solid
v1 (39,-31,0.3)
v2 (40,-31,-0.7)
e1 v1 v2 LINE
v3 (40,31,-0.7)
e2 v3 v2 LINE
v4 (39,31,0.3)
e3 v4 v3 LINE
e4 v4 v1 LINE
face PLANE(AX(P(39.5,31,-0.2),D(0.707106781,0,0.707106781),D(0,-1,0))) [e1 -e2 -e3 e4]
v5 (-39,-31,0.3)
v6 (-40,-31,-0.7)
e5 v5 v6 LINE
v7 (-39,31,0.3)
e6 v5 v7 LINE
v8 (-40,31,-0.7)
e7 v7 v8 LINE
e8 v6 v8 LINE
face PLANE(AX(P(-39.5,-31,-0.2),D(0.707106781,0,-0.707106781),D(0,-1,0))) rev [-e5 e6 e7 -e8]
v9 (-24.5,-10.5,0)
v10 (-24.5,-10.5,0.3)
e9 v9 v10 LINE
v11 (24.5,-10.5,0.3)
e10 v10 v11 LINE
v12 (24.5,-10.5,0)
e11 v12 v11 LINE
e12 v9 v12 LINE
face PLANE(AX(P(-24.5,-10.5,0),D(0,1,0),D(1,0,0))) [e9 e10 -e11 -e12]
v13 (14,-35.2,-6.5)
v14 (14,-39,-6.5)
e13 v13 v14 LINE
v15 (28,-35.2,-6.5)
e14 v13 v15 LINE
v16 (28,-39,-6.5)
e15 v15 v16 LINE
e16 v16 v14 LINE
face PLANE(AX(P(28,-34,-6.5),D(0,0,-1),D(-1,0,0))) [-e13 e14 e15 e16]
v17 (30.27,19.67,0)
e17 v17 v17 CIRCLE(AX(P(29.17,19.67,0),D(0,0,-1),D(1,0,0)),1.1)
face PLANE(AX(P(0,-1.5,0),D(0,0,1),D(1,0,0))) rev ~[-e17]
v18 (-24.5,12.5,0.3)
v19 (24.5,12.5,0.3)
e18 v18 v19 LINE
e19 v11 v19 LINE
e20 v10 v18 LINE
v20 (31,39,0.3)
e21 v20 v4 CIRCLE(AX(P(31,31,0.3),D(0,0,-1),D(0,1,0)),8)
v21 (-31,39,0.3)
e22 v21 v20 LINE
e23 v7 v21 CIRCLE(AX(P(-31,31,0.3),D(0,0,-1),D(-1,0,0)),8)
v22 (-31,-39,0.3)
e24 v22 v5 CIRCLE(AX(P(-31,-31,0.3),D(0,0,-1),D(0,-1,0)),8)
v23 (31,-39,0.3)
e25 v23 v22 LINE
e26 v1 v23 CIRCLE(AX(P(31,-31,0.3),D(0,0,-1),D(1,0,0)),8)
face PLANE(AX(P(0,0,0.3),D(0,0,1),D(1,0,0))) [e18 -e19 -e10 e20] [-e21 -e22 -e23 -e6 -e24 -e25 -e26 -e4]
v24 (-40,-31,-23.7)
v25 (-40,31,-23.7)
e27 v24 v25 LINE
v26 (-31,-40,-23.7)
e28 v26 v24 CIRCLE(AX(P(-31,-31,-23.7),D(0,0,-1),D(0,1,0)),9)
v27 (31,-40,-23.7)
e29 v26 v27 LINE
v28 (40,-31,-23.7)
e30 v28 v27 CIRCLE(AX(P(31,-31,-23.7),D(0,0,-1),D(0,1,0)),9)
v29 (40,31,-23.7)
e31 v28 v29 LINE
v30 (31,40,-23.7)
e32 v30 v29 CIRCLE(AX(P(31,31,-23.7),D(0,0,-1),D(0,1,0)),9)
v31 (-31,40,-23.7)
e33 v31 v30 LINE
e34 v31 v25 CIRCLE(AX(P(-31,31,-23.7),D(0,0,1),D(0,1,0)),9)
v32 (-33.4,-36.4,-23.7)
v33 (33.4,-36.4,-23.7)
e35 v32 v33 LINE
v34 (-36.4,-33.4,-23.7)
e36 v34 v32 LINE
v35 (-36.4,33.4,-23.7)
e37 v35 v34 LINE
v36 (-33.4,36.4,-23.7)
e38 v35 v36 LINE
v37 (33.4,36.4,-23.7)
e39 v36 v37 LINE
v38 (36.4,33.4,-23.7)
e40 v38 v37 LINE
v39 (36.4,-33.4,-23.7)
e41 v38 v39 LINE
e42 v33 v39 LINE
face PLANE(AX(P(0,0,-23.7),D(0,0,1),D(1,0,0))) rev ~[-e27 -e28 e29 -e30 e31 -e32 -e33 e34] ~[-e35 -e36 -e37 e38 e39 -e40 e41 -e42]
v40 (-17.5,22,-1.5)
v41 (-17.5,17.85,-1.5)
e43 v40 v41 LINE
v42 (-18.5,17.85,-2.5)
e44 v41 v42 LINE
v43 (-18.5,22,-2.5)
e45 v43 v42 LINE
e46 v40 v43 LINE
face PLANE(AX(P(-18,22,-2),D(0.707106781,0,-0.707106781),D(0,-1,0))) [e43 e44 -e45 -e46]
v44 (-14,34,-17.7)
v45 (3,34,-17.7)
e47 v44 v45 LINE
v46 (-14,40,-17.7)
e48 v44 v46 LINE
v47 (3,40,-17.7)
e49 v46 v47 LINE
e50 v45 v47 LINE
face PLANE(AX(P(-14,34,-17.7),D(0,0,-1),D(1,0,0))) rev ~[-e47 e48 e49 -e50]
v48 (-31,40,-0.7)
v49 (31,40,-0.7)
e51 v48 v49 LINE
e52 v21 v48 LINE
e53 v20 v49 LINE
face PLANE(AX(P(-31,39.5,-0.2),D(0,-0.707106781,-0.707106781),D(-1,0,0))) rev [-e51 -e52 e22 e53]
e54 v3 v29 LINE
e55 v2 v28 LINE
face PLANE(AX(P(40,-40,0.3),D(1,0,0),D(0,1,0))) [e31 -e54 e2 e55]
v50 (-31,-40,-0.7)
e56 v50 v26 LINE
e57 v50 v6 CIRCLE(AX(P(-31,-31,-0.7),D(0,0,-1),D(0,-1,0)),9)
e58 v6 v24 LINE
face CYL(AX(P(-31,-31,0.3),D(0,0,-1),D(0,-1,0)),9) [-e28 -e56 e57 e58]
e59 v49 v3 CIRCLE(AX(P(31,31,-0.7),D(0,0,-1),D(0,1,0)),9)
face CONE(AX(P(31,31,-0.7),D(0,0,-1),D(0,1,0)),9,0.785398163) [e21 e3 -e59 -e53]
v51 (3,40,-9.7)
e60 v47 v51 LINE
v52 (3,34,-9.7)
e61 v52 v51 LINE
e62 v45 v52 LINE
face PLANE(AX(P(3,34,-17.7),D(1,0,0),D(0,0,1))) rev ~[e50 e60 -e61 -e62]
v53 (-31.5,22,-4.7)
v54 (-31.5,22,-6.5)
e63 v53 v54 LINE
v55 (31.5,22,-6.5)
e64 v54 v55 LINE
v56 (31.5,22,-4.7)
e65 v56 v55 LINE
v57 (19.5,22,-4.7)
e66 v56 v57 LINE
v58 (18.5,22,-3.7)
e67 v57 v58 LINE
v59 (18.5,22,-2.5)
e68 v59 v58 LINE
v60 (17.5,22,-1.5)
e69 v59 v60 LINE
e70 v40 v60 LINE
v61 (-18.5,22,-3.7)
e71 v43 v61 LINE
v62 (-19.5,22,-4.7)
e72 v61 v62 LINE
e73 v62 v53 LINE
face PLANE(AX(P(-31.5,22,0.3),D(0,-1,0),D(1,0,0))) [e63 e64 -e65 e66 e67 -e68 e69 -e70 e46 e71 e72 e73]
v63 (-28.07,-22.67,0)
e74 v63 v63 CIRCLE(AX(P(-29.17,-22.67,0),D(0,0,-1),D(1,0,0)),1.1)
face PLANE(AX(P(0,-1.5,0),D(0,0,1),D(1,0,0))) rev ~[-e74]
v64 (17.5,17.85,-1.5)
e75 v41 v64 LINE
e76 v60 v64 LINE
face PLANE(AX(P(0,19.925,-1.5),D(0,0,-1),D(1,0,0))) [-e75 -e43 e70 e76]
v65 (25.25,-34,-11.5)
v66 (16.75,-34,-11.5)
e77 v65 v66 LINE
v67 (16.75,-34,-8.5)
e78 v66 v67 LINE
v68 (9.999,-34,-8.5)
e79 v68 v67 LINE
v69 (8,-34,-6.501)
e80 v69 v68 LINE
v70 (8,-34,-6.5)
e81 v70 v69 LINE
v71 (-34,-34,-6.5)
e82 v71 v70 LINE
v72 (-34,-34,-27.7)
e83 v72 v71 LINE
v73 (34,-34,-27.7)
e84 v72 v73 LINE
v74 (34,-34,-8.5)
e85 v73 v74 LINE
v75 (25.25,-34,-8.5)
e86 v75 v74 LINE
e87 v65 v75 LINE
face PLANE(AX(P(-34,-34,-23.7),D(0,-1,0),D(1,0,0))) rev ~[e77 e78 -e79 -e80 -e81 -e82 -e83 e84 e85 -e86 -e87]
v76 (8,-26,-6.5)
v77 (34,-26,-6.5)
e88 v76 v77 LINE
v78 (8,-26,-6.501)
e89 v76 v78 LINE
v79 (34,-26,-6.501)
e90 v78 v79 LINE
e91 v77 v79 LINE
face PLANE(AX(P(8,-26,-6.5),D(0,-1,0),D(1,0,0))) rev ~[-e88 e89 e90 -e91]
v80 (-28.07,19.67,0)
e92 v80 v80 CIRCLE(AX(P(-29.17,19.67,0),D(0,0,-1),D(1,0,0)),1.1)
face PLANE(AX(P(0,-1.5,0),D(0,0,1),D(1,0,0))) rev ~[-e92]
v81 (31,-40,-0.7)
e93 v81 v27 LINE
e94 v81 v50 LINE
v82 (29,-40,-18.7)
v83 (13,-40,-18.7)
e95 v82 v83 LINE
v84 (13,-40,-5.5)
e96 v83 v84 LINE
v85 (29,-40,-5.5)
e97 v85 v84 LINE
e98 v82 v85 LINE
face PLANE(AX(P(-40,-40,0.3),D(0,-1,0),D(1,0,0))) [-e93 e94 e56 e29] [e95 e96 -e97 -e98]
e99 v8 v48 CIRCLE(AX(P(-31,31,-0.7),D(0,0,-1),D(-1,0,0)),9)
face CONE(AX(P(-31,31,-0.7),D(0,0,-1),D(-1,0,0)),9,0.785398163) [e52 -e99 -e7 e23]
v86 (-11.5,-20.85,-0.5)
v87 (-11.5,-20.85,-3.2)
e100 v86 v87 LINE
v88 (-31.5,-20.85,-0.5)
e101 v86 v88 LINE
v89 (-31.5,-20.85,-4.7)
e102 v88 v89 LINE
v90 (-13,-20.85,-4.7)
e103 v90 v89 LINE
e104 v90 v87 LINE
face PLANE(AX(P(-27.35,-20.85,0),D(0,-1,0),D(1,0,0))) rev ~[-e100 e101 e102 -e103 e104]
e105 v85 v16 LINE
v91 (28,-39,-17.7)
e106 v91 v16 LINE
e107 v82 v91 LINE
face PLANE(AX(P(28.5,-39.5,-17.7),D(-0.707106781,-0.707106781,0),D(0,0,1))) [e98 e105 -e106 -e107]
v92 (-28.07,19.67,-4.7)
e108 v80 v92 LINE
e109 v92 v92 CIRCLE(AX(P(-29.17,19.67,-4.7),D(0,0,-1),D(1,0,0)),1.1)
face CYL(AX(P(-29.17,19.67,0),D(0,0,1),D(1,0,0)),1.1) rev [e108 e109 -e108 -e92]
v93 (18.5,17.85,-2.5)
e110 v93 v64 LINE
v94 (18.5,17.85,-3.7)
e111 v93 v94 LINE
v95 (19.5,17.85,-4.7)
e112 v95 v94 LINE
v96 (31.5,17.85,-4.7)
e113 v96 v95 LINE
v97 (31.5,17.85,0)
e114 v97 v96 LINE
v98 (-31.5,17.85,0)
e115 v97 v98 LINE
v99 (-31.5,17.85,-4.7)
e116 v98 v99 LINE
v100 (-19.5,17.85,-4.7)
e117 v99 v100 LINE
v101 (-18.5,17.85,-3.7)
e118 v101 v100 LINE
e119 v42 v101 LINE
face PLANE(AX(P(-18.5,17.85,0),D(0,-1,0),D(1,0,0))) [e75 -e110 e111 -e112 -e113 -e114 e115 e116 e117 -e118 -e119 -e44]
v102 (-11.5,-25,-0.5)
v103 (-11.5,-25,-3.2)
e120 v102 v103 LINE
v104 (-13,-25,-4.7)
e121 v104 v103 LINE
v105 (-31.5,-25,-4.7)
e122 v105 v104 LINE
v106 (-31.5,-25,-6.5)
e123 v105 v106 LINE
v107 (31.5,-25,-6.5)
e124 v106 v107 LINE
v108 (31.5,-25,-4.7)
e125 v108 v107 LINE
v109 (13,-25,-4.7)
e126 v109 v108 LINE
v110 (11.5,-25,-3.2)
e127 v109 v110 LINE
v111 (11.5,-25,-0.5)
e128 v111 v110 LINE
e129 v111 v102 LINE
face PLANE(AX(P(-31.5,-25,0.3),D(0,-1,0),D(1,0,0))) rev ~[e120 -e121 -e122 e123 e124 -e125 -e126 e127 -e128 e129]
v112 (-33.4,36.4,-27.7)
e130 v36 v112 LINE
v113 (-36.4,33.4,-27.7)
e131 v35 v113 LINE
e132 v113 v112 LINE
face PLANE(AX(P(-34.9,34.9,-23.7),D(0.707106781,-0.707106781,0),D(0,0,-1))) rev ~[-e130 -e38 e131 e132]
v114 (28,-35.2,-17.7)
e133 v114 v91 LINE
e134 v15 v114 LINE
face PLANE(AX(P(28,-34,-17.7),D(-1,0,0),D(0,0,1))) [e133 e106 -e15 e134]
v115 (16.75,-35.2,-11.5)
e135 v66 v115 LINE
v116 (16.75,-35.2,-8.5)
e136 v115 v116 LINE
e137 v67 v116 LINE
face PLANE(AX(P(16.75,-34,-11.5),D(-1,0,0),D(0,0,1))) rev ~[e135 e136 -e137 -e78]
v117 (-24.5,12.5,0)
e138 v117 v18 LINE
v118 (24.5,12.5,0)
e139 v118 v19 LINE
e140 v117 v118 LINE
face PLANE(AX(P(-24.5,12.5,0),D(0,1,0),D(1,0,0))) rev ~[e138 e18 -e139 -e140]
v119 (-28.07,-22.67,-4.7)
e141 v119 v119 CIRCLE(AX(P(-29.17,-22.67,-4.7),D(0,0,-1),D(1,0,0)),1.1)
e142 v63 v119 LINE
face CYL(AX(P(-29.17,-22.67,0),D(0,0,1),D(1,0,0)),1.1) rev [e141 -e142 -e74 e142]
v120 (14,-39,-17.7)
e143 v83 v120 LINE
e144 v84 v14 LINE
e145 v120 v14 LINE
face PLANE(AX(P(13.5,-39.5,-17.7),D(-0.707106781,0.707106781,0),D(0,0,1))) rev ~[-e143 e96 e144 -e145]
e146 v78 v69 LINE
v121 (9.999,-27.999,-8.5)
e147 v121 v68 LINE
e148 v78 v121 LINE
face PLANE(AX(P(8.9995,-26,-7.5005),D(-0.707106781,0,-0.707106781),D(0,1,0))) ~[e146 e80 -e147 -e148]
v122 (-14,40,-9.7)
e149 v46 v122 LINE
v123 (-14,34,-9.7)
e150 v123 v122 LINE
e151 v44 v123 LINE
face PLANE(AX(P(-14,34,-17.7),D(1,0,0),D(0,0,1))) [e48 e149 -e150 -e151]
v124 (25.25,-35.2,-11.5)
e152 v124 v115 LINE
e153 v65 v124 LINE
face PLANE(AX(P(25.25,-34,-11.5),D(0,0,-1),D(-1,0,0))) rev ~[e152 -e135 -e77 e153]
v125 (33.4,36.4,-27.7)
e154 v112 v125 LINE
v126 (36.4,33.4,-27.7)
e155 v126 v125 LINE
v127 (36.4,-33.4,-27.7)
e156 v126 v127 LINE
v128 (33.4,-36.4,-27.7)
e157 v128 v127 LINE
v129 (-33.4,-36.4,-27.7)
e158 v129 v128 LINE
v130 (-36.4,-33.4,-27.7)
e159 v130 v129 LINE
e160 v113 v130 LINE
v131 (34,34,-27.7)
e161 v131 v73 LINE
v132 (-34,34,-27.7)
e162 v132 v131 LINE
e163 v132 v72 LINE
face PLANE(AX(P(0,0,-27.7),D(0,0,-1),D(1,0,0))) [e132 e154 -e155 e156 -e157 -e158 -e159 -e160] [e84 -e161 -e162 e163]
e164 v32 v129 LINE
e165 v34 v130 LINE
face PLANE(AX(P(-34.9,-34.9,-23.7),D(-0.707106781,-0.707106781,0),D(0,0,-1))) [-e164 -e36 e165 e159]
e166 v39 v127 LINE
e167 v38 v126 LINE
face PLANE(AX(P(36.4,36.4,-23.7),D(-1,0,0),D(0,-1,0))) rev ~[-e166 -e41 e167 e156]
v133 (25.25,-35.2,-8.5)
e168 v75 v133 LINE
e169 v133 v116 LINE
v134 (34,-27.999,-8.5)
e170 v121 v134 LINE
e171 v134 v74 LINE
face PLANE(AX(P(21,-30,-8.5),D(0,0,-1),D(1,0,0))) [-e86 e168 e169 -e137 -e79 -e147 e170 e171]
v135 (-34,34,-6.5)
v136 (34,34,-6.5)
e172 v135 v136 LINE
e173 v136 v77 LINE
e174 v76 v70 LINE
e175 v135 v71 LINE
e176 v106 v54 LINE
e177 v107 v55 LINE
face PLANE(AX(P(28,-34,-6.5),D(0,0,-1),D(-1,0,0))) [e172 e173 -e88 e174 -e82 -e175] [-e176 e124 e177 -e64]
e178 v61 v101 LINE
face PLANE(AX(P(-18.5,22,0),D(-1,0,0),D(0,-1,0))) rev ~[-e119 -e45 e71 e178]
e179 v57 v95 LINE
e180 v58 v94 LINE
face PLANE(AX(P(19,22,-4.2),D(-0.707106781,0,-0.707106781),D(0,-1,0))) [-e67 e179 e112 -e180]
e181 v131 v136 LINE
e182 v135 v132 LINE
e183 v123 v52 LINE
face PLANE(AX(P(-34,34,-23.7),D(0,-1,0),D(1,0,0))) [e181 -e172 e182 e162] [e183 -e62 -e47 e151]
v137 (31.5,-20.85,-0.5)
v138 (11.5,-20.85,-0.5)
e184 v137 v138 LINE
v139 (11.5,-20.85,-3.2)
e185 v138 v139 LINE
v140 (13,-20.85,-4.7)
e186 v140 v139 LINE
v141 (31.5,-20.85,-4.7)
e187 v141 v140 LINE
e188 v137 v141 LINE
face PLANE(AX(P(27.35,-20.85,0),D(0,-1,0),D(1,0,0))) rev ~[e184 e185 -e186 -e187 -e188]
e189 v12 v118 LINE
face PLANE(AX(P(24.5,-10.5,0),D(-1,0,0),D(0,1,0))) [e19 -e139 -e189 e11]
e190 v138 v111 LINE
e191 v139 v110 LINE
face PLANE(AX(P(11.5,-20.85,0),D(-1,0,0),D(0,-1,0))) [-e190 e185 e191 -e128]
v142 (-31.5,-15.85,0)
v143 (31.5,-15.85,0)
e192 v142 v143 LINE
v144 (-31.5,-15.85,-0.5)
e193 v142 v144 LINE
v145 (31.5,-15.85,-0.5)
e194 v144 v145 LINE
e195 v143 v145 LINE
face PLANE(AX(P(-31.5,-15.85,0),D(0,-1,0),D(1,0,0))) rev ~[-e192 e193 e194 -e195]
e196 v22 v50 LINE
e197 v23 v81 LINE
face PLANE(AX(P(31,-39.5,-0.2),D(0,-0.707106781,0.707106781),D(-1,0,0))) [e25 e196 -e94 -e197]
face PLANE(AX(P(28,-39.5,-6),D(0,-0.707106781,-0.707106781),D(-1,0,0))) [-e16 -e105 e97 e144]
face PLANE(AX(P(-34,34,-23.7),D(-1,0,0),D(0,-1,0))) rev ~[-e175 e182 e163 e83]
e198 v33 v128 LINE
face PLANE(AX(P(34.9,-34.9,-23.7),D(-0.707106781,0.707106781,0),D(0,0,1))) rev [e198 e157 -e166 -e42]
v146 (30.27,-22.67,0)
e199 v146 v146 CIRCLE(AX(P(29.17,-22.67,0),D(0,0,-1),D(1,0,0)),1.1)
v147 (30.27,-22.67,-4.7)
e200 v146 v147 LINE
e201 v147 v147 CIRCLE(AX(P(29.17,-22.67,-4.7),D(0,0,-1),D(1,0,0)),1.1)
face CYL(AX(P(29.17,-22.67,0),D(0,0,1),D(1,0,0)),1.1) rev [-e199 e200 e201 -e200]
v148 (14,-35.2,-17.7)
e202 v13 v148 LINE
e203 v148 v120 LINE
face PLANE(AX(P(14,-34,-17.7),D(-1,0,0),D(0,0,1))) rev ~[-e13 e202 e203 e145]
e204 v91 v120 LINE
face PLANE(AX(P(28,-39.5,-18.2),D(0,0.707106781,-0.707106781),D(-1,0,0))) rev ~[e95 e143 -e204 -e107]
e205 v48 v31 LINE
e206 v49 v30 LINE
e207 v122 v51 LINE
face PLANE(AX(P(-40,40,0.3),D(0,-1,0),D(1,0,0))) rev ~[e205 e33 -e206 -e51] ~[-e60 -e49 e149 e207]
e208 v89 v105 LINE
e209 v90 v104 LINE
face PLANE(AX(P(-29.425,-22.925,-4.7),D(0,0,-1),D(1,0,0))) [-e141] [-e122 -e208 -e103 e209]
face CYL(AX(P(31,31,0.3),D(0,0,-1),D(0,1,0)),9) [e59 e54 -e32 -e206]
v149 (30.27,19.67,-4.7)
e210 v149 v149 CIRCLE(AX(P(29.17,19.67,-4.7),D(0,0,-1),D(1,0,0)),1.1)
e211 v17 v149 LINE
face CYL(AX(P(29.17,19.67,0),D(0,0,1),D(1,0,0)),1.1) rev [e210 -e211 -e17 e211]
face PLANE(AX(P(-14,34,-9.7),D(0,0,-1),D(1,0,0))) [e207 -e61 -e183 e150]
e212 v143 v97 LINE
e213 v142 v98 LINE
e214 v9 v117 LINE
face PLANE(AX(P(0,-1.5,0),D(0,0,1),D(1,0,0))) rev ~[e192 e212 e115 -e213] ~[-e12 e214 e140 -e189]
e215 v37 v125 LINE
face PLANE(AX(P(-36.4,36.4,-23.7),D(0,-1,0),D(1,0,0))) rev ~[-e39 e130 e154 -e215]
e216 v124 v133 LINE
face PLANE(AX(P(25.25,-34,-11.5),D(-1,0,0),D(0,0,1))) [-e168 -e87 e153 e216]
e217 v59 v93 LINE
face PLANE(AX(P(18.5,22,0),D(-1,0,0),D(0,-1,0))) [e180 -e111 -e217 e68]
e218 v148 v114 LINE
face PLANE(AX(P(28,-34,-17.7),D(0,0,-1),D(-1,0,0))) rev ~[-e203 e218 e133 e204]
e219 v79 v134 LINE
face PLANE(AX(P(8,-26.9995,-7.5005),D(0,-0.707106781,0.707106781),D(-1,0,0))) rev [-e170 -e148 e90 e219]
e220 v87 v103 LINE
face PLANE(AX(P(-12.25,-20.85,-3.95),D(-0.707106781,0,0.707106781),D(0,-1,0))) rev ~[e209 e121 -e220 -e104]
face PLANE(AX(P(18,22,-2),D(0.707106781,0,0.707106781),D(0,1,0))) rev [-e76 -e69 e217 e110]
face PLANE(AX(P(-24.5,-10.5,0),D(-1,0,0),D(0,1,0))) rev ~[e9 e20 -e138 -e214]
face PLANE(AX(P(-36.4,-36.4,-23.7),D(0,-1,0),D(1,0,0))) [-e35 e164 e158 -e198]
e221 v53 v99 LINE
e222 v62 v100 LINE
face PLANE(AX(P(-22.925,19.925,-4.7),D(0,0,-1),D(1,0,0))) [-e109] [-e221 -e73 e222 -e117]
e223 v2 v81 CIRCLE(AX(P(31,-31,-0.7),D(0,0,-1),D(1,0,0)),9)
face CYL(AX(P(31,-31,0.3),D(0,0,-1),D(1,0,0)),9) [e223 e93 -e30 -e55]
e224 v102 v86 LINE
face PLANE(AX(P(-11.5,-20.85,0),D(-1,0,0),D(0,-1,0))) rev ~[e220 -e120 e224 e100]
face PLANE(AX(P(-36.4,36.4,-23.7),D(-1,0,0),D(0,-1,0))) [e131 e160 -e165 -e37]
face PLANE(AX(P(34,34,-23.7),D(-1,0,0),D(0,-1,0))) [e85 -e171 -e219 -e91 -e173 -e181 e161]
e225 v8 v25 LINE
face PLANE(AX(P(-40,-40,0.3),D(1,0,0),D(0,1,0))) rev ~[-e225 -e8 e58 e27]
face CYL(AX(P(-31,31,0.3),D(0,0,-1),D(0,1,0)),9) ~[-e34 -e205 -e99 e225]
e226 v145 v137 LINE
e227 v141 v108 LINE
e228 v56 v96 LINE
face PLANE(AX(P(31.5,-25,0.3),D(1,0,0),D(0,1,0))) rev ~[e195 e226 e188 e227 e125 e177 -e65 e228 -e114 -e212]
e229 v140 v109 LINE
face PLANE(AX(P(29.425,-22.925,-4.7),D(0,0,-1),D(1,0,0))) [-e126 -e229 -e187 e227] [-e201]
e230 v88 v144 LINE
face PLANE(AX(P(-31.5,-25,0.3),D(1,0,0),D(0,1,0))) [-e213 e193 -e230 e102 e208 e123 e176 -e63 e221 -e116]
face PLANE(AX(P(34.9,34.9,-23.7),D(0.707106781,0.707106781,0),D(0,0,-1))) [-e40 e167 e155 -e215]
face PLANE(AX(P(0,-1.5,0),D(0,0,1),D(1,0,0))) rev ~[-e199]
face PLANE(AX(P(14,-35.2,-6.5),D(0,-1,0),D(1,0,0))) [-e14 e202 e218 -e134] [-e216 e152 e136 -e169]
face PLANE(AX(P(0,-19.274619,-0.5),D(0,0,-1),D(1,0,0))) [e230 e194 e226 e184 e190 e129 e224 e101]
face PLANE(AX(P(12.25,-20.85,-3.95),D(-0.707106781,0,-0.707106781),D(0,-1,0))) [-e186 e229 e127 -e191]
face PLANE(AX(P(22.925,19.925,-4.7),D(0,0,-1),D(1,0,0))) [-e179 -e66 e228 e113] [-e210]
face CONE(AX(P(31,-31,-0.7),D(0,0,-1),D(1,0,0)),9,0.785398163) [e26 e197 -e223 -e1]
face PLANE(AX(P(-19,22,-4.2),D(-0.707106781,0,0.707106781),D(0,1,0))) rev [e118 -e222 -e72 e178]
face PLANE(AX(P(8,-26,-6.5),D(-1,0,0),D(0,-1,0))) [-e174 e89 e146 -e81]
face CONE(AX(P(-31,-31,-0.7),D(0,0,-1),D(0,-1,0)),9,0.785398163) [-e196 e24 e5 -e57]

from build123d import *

# Parameters (mm, degrees)
SKETCH_W        = 63
SKETCH_H        = 47
SKETCH_W_2      = 49
SKETCH_H_2      = 23
PAD_DEPTH       = 0.3
SKETCH001_W     = 65
SKETCH001_H     = 49
SKETCH001_W_2   = 63
SKETCH001_H_2   = 47
PAD001_DEPTH    = 6.8
SKETCH002_W     = 4.15
SKETCH002_H     = 4.15
SKETCH002_R     = 1.1
PAD002_DEPTH    = 4.7
SKETCH003_W     = 8.85
SKETCH003_H     = 4.15
SKETCH003_W_2   = 15.85
PAD003_DEPTH    = 4.7
SKETCH004_W     = 37
SKETCH004_H     = 4.15
PAD004_DEPTH    = 1.5
CHAMFER_SIZE    = 1
PAD005_DEPTH    = 0.5
CHAMFER001_SIZE = 1.5
SKETCH006_W     = 80
SKETCH006_H     = 80
SKETCH006_W_2   = 65
SKETCH006_H_2   = 49
PAD006_DEPTH    = 24
SKETCH007_W     = 68
SKETCH007_H     = 68
SKETCH007_W_2   = 65
SKETCH007_H_2   = 49
POCKET_DEPTH    = 17.2
SKETCH008_W     = 14
SKETCH008_H     = 11.2
POCKET001_DEPTH = 6
SKETCH009_W     = 17
SKETCH009_H     = 8
POCKET002_DEPTH = 6
SKETCH010_W     = 26
SKETCH010_H     = 8
PAD007_DEPTH    = 2
CHAMFER002_SIZE = 1.999
SKETCH011_W     = 14
SKETCH011_H     = 1.2
PAD008_DEPTH    = 11.2
SKETCH012_W     = 8.5
SKETCH012_H     = 3
POCKET003_DEPTH = 1.2
SKETCH013_W     = 72.8
SKETCH013_H     = 72.8
SKETCH013_W_2   = 68
SKETCH013_H_2   = 68
PAD009_DEPTH    = 4
FILLET_R        = 9
CHAMFER003_SIZE = 3
CHAMFER004_SIZE = 1
CHAMFER005_SIZE = 1


with BuildPart() as part:
    # Sketch → Pad (new body)
    with BuildSketch(Plane.XY):
        with Locations((0, -1.5)):
            Rectangle(SKETCH_W, SKETCH_H)
        with Locations((0, 1)):
            Rectangle(SKETCH_W_2, SKETCH_H_2, mode=Mode.SUBTRACT)
    extrude(amount=PAD_DEPTH)

    # Sketch001 (on Face10 of Pad) → Pad001 (join)
    with BuildSketch(Plane.XY.offset(0.3)):
        with Locations((0, -1.5)):
            Rectangle(SKETCH001_W, SKETCH001_H)
        with Locations((0, -1.5)):
            Rectangle(SKETCH001_W_2, SKETCH001_H_2, mode=Mode.SUBTRACT)
    extrude(amount=-PAD001_DEPTH)

    # Sketch002 (on Face4 of Pad001) → Pad002 (join)
    with BuildSketch(Plane(origin=(0, 0, 0), x_dir=(1, 0, 0), z_dir=(0, 0, -1))):
        with Locations((-29.425, 22.925)):
            Rectangle(SKETCH002_W, SKETCH002_H)
        with Locations((-29.17, 22.67)):
            Circle(SKETCH002_R, mode=Mode.SUBTRACT)
        with Locations((-29.425, -19.925)):
            Rectangle(SKETCH002_W, SKETCH002_H)
        with Locations((-29.17, -19.67)):
            Circle(SKETCH002_R, mode=Mode.SUBTRACT)
        with Locations((29.425, -19.925)):
            Rectangle(SKETCH002_W, SKETCH002_H)
        with Locations((29.17, -19.67)):
            Circle(SKETCH002_R, mode=Mode.SUBTRACT)
        with Locations((29.425, 22.925)):
            Rectangle(SKETCH002_W, SKETCH002_H)
        with Locations((29.17, 22.67)):
            Circle(SKETCH002_R, mode=Mode.SUBTRACT)
    extrude(amount=PAD002_DEPTH)

    # Sketch003 (on Face4 of Pad002) → Pad003 (join)
    with BuildSketch(Plane(origin=(0, 0, 0), x_dir=(1, 0, 0), z_dir=(0, 0, -1))):
        with Locations((-22.925, -19.925)):
            Rectangle(SKETCH003_W, SKETCH003_H)
        with Locations((22.925, -19.925)):
            Rectangle(SKETCH003_W, SKETCH003_H)
        with Locations((-19.425, 22.925)):
            Rectangle(SKETCH003_W_2, SKETCH003_H)
        with Locations((19.425, 22.925)):
            Rectangle(SKETCH003_W_2, SKETCH003_H)
    extrude(amount=PAD003_DEPTH)

    # Sketch004 (on Face4 of Pad003) → Pad004 (join)
    with BuildSketch(Plane(origin=(0, 0, 0), x_dir=(1, 0, 0), z_dir=(0, 0, -1))):
        with Locations((0, -19.925)):
            Rectangle(SKETCH004_W, SKETCH004_H)
    extrude(amount=PAD004_DEPTH)

    # Chamfer
    chamfer_edges = [part.edges().sort_by_distance(p)[0] for p in [
        (-18.5, 19.925, -1.5),
        (18.5, 19.925, -1.5),
        (-18.5, 19.925, -4.7),
        (18.5, 19.925, -4.7),
    ]]
    chamfer(chamfer_edges, length=CHAMFER_SIZE)

    # Sketch005 (on Face6 of Chamfer) → Pad005 (join)
    with BuildSketch(Plane(origin=(0, 0, 0), x_dir=(1, 0, 0), z_dir=(0, 0, -1))):
        Polygon((11.5, 20.85), (11.5, 25), (-11.5, 25), (-11.5, 20.85), (-31.5, 20.85), (-31.5, 15.85), (31.5, 15.85), (31.5, 20.85), align=None)
    extrude(amount=PAD005_DEPTH)

    # Chamfer001
    chamfer001_edges = [part.edges().sort_by_distance(p)[0] for p in [
        (-11.5, -22.925, -4.7),
        (11.5, -22.925, -4.7),
    ]]
    chamfer(chamfer001_edges, length=CHAMFER001_SIZE)

    # Sketch006 (on Face52 of Chamfer001) → Pad006 (join)
    with BuildSketch(Plane.XY.offset(0.3)):
        Rectangle(SKETCH006_W, SKETCH006_H)
        with Locations((0, -1.5)):
            Rectangle(SKETCH006_W_2, SKETCH006_H_2, mode=Mode.SUBTRACT)
    extrude(amount=-PAD006_DEPTH)

    # Sketch007 (on Face49 of Pad006) → Pocket (cut)
    with BuildSketch(Plane(origin=(0, 0, -23.7), x_dir=(1, 0, 0), z_dir=(0, 0, -1))):
        Rectangle(SKETCH007_W, SKETCH007_H)
        with Locations((0, 1.5)):
            Rectangle(SKETCH007_W_2, SKETCH007_H_2, mode=Mode.SUBTRACT)
    extrude(amount=-POCKET_DEPTH, mode=Mode.SUBTRACT)

    # Sketch008 (on Face49 of Pocket) → Pocket001 (cut)
    with BuildSketch(Plane(origin=(0, -34, 0), x_dir=(-1, 0, 0), z_dir=(0, 1, 0))):
        with Locations((-21, -12.1)):
            Rectangle(SKETCH008_W, SKETCH008_H)
    extrude(amount=-POCKET001_DEPTH, mode=Mode.SUBTRACT)

    # Sketch009 (on Face47 of Pocket001) → Pocket002 (cut)
    with BuildSketch(Plane.XZ.offset(-34)):
        with Locations((-5.5, -13.7)):
            Rectangle(SKETCH009_W, SKETCH009_H)
    extrude(amount=-POCKET002_DEPTH, mode=Mode.SUBTRACT)

    # Sketch010 (on Face24 of Pocket002) → Pad007 (join)
    with BuildSketch(Plane(origin=(0, 0, -6.5), x_dir=(1, 0, 0), z_dir=(0, 0, -1))):
        with Locations((21, 30)):
            Rectangle(SKETCH010_W, SKETCH010_H)
    extrude(amount=PAD007_DEPTH)

    # Chamfer002
    chamfer002_edges = [part.edges().sort_by_distance(p)[0] for p in [
        (21, -26, -8.5),
        (8, -30, -8.5),
    ]]
    chamfer(chamfer002_edges, length=CHAMFER002_SIZE)

    # Sketch011 (on Face55 of Chamfer002) → Pad008 (join)
    with BuildSketch(Plane(origin=(0, 0, -6.5), x_dir=(1, 0, 0), z_dir=(0, 0, -1))):
        with Locations((21, 34.6)):
            Rectangle(SKETCH011_W, SKETCH011_H)
    extrude(amount=PAD008_DEPTH)

    # Sketch012 (on Face17 of Pad008) → Pocket003 (cut)
    with BuildSketch(Plane(origin=(0, -34, 0), x_dir=(-1, 0, 0), z_dir=(0, 1, 0))):
        with Locations((-21, -10)):
            Rectangle(SKETCH012_W, SKETCH012_H)
    extrude(amount=-POCKET003_DEPTH, mode=Mode.SUBTRACT)

    # Sketch013 (on Face15 of Pocket003) → Pad009 (join)
    with BuildSketch(Plane(origin=(0, 0, -23.7), x_dir=(1, 0, 0), z_dir=(0, 0, -1))):
        Rectangle(SKETCH013_W, SKETCH013_H)
        Rectangle(SKETCH013_W_2, SKETCH013_H_2, mode=Mode.SUBTRACT)
    extrude(amount=PAD009_DEPTH)

    # Fillet
    fillet_edges = [part.edges().sort_by_distance(p)[0] for p in [
        (-40, -40, -11.7),
        (40, -40, -11.7),
        (40, 40, -11.7),
        (-40, 40, -11.7),
    ]]
    fillet(fillet_edges, radius=FILLET_R)

    # Chamfer003
    chamfer003_edges = [part.edges().sort_by_distance(p)[0] for p in [
        (36.4, 36.4, -25.7),
        (-36.4, 36.4, -25.7),
        (36.4, -36.4, -25.7),
        (-36.4, -36.4, -25.7),
    ]]
    chamfer(chamfer003_edges, length=CHAMFER003_SIZE)

    # Chamfer004
    chamfer004_edges = [part.edges().sort_by_distance(p)[0] for p in [
        (28, -40, -12.1),
        (21, -40, -17.7),
        (14, -40, -12.1),
        (21, -40, -6.5),
    ]]
    chamfer(chamfer004_edges, length=CHAMFER004_SIZE)

    # Chamfer005
    chamfer005_edges = [part.edges().sort_by_distance(p)[0] for p in [
        (-37.363961, -37.363961, 0.3),
        (-40, 0, 0.3),
        (-37.363961, 37.363961, 0.3),
        (0, 40, 0.3),
        (0, -40, 0.3),
        (37.363961, -37.363961, 0.3),
        (40, 0, 0.3),
        (37.363961, 37.363961, 0.3),
    ]]
    chamfer(chamfer005_edges, length=CHAMFER005_SIZE)


solid = part.part
